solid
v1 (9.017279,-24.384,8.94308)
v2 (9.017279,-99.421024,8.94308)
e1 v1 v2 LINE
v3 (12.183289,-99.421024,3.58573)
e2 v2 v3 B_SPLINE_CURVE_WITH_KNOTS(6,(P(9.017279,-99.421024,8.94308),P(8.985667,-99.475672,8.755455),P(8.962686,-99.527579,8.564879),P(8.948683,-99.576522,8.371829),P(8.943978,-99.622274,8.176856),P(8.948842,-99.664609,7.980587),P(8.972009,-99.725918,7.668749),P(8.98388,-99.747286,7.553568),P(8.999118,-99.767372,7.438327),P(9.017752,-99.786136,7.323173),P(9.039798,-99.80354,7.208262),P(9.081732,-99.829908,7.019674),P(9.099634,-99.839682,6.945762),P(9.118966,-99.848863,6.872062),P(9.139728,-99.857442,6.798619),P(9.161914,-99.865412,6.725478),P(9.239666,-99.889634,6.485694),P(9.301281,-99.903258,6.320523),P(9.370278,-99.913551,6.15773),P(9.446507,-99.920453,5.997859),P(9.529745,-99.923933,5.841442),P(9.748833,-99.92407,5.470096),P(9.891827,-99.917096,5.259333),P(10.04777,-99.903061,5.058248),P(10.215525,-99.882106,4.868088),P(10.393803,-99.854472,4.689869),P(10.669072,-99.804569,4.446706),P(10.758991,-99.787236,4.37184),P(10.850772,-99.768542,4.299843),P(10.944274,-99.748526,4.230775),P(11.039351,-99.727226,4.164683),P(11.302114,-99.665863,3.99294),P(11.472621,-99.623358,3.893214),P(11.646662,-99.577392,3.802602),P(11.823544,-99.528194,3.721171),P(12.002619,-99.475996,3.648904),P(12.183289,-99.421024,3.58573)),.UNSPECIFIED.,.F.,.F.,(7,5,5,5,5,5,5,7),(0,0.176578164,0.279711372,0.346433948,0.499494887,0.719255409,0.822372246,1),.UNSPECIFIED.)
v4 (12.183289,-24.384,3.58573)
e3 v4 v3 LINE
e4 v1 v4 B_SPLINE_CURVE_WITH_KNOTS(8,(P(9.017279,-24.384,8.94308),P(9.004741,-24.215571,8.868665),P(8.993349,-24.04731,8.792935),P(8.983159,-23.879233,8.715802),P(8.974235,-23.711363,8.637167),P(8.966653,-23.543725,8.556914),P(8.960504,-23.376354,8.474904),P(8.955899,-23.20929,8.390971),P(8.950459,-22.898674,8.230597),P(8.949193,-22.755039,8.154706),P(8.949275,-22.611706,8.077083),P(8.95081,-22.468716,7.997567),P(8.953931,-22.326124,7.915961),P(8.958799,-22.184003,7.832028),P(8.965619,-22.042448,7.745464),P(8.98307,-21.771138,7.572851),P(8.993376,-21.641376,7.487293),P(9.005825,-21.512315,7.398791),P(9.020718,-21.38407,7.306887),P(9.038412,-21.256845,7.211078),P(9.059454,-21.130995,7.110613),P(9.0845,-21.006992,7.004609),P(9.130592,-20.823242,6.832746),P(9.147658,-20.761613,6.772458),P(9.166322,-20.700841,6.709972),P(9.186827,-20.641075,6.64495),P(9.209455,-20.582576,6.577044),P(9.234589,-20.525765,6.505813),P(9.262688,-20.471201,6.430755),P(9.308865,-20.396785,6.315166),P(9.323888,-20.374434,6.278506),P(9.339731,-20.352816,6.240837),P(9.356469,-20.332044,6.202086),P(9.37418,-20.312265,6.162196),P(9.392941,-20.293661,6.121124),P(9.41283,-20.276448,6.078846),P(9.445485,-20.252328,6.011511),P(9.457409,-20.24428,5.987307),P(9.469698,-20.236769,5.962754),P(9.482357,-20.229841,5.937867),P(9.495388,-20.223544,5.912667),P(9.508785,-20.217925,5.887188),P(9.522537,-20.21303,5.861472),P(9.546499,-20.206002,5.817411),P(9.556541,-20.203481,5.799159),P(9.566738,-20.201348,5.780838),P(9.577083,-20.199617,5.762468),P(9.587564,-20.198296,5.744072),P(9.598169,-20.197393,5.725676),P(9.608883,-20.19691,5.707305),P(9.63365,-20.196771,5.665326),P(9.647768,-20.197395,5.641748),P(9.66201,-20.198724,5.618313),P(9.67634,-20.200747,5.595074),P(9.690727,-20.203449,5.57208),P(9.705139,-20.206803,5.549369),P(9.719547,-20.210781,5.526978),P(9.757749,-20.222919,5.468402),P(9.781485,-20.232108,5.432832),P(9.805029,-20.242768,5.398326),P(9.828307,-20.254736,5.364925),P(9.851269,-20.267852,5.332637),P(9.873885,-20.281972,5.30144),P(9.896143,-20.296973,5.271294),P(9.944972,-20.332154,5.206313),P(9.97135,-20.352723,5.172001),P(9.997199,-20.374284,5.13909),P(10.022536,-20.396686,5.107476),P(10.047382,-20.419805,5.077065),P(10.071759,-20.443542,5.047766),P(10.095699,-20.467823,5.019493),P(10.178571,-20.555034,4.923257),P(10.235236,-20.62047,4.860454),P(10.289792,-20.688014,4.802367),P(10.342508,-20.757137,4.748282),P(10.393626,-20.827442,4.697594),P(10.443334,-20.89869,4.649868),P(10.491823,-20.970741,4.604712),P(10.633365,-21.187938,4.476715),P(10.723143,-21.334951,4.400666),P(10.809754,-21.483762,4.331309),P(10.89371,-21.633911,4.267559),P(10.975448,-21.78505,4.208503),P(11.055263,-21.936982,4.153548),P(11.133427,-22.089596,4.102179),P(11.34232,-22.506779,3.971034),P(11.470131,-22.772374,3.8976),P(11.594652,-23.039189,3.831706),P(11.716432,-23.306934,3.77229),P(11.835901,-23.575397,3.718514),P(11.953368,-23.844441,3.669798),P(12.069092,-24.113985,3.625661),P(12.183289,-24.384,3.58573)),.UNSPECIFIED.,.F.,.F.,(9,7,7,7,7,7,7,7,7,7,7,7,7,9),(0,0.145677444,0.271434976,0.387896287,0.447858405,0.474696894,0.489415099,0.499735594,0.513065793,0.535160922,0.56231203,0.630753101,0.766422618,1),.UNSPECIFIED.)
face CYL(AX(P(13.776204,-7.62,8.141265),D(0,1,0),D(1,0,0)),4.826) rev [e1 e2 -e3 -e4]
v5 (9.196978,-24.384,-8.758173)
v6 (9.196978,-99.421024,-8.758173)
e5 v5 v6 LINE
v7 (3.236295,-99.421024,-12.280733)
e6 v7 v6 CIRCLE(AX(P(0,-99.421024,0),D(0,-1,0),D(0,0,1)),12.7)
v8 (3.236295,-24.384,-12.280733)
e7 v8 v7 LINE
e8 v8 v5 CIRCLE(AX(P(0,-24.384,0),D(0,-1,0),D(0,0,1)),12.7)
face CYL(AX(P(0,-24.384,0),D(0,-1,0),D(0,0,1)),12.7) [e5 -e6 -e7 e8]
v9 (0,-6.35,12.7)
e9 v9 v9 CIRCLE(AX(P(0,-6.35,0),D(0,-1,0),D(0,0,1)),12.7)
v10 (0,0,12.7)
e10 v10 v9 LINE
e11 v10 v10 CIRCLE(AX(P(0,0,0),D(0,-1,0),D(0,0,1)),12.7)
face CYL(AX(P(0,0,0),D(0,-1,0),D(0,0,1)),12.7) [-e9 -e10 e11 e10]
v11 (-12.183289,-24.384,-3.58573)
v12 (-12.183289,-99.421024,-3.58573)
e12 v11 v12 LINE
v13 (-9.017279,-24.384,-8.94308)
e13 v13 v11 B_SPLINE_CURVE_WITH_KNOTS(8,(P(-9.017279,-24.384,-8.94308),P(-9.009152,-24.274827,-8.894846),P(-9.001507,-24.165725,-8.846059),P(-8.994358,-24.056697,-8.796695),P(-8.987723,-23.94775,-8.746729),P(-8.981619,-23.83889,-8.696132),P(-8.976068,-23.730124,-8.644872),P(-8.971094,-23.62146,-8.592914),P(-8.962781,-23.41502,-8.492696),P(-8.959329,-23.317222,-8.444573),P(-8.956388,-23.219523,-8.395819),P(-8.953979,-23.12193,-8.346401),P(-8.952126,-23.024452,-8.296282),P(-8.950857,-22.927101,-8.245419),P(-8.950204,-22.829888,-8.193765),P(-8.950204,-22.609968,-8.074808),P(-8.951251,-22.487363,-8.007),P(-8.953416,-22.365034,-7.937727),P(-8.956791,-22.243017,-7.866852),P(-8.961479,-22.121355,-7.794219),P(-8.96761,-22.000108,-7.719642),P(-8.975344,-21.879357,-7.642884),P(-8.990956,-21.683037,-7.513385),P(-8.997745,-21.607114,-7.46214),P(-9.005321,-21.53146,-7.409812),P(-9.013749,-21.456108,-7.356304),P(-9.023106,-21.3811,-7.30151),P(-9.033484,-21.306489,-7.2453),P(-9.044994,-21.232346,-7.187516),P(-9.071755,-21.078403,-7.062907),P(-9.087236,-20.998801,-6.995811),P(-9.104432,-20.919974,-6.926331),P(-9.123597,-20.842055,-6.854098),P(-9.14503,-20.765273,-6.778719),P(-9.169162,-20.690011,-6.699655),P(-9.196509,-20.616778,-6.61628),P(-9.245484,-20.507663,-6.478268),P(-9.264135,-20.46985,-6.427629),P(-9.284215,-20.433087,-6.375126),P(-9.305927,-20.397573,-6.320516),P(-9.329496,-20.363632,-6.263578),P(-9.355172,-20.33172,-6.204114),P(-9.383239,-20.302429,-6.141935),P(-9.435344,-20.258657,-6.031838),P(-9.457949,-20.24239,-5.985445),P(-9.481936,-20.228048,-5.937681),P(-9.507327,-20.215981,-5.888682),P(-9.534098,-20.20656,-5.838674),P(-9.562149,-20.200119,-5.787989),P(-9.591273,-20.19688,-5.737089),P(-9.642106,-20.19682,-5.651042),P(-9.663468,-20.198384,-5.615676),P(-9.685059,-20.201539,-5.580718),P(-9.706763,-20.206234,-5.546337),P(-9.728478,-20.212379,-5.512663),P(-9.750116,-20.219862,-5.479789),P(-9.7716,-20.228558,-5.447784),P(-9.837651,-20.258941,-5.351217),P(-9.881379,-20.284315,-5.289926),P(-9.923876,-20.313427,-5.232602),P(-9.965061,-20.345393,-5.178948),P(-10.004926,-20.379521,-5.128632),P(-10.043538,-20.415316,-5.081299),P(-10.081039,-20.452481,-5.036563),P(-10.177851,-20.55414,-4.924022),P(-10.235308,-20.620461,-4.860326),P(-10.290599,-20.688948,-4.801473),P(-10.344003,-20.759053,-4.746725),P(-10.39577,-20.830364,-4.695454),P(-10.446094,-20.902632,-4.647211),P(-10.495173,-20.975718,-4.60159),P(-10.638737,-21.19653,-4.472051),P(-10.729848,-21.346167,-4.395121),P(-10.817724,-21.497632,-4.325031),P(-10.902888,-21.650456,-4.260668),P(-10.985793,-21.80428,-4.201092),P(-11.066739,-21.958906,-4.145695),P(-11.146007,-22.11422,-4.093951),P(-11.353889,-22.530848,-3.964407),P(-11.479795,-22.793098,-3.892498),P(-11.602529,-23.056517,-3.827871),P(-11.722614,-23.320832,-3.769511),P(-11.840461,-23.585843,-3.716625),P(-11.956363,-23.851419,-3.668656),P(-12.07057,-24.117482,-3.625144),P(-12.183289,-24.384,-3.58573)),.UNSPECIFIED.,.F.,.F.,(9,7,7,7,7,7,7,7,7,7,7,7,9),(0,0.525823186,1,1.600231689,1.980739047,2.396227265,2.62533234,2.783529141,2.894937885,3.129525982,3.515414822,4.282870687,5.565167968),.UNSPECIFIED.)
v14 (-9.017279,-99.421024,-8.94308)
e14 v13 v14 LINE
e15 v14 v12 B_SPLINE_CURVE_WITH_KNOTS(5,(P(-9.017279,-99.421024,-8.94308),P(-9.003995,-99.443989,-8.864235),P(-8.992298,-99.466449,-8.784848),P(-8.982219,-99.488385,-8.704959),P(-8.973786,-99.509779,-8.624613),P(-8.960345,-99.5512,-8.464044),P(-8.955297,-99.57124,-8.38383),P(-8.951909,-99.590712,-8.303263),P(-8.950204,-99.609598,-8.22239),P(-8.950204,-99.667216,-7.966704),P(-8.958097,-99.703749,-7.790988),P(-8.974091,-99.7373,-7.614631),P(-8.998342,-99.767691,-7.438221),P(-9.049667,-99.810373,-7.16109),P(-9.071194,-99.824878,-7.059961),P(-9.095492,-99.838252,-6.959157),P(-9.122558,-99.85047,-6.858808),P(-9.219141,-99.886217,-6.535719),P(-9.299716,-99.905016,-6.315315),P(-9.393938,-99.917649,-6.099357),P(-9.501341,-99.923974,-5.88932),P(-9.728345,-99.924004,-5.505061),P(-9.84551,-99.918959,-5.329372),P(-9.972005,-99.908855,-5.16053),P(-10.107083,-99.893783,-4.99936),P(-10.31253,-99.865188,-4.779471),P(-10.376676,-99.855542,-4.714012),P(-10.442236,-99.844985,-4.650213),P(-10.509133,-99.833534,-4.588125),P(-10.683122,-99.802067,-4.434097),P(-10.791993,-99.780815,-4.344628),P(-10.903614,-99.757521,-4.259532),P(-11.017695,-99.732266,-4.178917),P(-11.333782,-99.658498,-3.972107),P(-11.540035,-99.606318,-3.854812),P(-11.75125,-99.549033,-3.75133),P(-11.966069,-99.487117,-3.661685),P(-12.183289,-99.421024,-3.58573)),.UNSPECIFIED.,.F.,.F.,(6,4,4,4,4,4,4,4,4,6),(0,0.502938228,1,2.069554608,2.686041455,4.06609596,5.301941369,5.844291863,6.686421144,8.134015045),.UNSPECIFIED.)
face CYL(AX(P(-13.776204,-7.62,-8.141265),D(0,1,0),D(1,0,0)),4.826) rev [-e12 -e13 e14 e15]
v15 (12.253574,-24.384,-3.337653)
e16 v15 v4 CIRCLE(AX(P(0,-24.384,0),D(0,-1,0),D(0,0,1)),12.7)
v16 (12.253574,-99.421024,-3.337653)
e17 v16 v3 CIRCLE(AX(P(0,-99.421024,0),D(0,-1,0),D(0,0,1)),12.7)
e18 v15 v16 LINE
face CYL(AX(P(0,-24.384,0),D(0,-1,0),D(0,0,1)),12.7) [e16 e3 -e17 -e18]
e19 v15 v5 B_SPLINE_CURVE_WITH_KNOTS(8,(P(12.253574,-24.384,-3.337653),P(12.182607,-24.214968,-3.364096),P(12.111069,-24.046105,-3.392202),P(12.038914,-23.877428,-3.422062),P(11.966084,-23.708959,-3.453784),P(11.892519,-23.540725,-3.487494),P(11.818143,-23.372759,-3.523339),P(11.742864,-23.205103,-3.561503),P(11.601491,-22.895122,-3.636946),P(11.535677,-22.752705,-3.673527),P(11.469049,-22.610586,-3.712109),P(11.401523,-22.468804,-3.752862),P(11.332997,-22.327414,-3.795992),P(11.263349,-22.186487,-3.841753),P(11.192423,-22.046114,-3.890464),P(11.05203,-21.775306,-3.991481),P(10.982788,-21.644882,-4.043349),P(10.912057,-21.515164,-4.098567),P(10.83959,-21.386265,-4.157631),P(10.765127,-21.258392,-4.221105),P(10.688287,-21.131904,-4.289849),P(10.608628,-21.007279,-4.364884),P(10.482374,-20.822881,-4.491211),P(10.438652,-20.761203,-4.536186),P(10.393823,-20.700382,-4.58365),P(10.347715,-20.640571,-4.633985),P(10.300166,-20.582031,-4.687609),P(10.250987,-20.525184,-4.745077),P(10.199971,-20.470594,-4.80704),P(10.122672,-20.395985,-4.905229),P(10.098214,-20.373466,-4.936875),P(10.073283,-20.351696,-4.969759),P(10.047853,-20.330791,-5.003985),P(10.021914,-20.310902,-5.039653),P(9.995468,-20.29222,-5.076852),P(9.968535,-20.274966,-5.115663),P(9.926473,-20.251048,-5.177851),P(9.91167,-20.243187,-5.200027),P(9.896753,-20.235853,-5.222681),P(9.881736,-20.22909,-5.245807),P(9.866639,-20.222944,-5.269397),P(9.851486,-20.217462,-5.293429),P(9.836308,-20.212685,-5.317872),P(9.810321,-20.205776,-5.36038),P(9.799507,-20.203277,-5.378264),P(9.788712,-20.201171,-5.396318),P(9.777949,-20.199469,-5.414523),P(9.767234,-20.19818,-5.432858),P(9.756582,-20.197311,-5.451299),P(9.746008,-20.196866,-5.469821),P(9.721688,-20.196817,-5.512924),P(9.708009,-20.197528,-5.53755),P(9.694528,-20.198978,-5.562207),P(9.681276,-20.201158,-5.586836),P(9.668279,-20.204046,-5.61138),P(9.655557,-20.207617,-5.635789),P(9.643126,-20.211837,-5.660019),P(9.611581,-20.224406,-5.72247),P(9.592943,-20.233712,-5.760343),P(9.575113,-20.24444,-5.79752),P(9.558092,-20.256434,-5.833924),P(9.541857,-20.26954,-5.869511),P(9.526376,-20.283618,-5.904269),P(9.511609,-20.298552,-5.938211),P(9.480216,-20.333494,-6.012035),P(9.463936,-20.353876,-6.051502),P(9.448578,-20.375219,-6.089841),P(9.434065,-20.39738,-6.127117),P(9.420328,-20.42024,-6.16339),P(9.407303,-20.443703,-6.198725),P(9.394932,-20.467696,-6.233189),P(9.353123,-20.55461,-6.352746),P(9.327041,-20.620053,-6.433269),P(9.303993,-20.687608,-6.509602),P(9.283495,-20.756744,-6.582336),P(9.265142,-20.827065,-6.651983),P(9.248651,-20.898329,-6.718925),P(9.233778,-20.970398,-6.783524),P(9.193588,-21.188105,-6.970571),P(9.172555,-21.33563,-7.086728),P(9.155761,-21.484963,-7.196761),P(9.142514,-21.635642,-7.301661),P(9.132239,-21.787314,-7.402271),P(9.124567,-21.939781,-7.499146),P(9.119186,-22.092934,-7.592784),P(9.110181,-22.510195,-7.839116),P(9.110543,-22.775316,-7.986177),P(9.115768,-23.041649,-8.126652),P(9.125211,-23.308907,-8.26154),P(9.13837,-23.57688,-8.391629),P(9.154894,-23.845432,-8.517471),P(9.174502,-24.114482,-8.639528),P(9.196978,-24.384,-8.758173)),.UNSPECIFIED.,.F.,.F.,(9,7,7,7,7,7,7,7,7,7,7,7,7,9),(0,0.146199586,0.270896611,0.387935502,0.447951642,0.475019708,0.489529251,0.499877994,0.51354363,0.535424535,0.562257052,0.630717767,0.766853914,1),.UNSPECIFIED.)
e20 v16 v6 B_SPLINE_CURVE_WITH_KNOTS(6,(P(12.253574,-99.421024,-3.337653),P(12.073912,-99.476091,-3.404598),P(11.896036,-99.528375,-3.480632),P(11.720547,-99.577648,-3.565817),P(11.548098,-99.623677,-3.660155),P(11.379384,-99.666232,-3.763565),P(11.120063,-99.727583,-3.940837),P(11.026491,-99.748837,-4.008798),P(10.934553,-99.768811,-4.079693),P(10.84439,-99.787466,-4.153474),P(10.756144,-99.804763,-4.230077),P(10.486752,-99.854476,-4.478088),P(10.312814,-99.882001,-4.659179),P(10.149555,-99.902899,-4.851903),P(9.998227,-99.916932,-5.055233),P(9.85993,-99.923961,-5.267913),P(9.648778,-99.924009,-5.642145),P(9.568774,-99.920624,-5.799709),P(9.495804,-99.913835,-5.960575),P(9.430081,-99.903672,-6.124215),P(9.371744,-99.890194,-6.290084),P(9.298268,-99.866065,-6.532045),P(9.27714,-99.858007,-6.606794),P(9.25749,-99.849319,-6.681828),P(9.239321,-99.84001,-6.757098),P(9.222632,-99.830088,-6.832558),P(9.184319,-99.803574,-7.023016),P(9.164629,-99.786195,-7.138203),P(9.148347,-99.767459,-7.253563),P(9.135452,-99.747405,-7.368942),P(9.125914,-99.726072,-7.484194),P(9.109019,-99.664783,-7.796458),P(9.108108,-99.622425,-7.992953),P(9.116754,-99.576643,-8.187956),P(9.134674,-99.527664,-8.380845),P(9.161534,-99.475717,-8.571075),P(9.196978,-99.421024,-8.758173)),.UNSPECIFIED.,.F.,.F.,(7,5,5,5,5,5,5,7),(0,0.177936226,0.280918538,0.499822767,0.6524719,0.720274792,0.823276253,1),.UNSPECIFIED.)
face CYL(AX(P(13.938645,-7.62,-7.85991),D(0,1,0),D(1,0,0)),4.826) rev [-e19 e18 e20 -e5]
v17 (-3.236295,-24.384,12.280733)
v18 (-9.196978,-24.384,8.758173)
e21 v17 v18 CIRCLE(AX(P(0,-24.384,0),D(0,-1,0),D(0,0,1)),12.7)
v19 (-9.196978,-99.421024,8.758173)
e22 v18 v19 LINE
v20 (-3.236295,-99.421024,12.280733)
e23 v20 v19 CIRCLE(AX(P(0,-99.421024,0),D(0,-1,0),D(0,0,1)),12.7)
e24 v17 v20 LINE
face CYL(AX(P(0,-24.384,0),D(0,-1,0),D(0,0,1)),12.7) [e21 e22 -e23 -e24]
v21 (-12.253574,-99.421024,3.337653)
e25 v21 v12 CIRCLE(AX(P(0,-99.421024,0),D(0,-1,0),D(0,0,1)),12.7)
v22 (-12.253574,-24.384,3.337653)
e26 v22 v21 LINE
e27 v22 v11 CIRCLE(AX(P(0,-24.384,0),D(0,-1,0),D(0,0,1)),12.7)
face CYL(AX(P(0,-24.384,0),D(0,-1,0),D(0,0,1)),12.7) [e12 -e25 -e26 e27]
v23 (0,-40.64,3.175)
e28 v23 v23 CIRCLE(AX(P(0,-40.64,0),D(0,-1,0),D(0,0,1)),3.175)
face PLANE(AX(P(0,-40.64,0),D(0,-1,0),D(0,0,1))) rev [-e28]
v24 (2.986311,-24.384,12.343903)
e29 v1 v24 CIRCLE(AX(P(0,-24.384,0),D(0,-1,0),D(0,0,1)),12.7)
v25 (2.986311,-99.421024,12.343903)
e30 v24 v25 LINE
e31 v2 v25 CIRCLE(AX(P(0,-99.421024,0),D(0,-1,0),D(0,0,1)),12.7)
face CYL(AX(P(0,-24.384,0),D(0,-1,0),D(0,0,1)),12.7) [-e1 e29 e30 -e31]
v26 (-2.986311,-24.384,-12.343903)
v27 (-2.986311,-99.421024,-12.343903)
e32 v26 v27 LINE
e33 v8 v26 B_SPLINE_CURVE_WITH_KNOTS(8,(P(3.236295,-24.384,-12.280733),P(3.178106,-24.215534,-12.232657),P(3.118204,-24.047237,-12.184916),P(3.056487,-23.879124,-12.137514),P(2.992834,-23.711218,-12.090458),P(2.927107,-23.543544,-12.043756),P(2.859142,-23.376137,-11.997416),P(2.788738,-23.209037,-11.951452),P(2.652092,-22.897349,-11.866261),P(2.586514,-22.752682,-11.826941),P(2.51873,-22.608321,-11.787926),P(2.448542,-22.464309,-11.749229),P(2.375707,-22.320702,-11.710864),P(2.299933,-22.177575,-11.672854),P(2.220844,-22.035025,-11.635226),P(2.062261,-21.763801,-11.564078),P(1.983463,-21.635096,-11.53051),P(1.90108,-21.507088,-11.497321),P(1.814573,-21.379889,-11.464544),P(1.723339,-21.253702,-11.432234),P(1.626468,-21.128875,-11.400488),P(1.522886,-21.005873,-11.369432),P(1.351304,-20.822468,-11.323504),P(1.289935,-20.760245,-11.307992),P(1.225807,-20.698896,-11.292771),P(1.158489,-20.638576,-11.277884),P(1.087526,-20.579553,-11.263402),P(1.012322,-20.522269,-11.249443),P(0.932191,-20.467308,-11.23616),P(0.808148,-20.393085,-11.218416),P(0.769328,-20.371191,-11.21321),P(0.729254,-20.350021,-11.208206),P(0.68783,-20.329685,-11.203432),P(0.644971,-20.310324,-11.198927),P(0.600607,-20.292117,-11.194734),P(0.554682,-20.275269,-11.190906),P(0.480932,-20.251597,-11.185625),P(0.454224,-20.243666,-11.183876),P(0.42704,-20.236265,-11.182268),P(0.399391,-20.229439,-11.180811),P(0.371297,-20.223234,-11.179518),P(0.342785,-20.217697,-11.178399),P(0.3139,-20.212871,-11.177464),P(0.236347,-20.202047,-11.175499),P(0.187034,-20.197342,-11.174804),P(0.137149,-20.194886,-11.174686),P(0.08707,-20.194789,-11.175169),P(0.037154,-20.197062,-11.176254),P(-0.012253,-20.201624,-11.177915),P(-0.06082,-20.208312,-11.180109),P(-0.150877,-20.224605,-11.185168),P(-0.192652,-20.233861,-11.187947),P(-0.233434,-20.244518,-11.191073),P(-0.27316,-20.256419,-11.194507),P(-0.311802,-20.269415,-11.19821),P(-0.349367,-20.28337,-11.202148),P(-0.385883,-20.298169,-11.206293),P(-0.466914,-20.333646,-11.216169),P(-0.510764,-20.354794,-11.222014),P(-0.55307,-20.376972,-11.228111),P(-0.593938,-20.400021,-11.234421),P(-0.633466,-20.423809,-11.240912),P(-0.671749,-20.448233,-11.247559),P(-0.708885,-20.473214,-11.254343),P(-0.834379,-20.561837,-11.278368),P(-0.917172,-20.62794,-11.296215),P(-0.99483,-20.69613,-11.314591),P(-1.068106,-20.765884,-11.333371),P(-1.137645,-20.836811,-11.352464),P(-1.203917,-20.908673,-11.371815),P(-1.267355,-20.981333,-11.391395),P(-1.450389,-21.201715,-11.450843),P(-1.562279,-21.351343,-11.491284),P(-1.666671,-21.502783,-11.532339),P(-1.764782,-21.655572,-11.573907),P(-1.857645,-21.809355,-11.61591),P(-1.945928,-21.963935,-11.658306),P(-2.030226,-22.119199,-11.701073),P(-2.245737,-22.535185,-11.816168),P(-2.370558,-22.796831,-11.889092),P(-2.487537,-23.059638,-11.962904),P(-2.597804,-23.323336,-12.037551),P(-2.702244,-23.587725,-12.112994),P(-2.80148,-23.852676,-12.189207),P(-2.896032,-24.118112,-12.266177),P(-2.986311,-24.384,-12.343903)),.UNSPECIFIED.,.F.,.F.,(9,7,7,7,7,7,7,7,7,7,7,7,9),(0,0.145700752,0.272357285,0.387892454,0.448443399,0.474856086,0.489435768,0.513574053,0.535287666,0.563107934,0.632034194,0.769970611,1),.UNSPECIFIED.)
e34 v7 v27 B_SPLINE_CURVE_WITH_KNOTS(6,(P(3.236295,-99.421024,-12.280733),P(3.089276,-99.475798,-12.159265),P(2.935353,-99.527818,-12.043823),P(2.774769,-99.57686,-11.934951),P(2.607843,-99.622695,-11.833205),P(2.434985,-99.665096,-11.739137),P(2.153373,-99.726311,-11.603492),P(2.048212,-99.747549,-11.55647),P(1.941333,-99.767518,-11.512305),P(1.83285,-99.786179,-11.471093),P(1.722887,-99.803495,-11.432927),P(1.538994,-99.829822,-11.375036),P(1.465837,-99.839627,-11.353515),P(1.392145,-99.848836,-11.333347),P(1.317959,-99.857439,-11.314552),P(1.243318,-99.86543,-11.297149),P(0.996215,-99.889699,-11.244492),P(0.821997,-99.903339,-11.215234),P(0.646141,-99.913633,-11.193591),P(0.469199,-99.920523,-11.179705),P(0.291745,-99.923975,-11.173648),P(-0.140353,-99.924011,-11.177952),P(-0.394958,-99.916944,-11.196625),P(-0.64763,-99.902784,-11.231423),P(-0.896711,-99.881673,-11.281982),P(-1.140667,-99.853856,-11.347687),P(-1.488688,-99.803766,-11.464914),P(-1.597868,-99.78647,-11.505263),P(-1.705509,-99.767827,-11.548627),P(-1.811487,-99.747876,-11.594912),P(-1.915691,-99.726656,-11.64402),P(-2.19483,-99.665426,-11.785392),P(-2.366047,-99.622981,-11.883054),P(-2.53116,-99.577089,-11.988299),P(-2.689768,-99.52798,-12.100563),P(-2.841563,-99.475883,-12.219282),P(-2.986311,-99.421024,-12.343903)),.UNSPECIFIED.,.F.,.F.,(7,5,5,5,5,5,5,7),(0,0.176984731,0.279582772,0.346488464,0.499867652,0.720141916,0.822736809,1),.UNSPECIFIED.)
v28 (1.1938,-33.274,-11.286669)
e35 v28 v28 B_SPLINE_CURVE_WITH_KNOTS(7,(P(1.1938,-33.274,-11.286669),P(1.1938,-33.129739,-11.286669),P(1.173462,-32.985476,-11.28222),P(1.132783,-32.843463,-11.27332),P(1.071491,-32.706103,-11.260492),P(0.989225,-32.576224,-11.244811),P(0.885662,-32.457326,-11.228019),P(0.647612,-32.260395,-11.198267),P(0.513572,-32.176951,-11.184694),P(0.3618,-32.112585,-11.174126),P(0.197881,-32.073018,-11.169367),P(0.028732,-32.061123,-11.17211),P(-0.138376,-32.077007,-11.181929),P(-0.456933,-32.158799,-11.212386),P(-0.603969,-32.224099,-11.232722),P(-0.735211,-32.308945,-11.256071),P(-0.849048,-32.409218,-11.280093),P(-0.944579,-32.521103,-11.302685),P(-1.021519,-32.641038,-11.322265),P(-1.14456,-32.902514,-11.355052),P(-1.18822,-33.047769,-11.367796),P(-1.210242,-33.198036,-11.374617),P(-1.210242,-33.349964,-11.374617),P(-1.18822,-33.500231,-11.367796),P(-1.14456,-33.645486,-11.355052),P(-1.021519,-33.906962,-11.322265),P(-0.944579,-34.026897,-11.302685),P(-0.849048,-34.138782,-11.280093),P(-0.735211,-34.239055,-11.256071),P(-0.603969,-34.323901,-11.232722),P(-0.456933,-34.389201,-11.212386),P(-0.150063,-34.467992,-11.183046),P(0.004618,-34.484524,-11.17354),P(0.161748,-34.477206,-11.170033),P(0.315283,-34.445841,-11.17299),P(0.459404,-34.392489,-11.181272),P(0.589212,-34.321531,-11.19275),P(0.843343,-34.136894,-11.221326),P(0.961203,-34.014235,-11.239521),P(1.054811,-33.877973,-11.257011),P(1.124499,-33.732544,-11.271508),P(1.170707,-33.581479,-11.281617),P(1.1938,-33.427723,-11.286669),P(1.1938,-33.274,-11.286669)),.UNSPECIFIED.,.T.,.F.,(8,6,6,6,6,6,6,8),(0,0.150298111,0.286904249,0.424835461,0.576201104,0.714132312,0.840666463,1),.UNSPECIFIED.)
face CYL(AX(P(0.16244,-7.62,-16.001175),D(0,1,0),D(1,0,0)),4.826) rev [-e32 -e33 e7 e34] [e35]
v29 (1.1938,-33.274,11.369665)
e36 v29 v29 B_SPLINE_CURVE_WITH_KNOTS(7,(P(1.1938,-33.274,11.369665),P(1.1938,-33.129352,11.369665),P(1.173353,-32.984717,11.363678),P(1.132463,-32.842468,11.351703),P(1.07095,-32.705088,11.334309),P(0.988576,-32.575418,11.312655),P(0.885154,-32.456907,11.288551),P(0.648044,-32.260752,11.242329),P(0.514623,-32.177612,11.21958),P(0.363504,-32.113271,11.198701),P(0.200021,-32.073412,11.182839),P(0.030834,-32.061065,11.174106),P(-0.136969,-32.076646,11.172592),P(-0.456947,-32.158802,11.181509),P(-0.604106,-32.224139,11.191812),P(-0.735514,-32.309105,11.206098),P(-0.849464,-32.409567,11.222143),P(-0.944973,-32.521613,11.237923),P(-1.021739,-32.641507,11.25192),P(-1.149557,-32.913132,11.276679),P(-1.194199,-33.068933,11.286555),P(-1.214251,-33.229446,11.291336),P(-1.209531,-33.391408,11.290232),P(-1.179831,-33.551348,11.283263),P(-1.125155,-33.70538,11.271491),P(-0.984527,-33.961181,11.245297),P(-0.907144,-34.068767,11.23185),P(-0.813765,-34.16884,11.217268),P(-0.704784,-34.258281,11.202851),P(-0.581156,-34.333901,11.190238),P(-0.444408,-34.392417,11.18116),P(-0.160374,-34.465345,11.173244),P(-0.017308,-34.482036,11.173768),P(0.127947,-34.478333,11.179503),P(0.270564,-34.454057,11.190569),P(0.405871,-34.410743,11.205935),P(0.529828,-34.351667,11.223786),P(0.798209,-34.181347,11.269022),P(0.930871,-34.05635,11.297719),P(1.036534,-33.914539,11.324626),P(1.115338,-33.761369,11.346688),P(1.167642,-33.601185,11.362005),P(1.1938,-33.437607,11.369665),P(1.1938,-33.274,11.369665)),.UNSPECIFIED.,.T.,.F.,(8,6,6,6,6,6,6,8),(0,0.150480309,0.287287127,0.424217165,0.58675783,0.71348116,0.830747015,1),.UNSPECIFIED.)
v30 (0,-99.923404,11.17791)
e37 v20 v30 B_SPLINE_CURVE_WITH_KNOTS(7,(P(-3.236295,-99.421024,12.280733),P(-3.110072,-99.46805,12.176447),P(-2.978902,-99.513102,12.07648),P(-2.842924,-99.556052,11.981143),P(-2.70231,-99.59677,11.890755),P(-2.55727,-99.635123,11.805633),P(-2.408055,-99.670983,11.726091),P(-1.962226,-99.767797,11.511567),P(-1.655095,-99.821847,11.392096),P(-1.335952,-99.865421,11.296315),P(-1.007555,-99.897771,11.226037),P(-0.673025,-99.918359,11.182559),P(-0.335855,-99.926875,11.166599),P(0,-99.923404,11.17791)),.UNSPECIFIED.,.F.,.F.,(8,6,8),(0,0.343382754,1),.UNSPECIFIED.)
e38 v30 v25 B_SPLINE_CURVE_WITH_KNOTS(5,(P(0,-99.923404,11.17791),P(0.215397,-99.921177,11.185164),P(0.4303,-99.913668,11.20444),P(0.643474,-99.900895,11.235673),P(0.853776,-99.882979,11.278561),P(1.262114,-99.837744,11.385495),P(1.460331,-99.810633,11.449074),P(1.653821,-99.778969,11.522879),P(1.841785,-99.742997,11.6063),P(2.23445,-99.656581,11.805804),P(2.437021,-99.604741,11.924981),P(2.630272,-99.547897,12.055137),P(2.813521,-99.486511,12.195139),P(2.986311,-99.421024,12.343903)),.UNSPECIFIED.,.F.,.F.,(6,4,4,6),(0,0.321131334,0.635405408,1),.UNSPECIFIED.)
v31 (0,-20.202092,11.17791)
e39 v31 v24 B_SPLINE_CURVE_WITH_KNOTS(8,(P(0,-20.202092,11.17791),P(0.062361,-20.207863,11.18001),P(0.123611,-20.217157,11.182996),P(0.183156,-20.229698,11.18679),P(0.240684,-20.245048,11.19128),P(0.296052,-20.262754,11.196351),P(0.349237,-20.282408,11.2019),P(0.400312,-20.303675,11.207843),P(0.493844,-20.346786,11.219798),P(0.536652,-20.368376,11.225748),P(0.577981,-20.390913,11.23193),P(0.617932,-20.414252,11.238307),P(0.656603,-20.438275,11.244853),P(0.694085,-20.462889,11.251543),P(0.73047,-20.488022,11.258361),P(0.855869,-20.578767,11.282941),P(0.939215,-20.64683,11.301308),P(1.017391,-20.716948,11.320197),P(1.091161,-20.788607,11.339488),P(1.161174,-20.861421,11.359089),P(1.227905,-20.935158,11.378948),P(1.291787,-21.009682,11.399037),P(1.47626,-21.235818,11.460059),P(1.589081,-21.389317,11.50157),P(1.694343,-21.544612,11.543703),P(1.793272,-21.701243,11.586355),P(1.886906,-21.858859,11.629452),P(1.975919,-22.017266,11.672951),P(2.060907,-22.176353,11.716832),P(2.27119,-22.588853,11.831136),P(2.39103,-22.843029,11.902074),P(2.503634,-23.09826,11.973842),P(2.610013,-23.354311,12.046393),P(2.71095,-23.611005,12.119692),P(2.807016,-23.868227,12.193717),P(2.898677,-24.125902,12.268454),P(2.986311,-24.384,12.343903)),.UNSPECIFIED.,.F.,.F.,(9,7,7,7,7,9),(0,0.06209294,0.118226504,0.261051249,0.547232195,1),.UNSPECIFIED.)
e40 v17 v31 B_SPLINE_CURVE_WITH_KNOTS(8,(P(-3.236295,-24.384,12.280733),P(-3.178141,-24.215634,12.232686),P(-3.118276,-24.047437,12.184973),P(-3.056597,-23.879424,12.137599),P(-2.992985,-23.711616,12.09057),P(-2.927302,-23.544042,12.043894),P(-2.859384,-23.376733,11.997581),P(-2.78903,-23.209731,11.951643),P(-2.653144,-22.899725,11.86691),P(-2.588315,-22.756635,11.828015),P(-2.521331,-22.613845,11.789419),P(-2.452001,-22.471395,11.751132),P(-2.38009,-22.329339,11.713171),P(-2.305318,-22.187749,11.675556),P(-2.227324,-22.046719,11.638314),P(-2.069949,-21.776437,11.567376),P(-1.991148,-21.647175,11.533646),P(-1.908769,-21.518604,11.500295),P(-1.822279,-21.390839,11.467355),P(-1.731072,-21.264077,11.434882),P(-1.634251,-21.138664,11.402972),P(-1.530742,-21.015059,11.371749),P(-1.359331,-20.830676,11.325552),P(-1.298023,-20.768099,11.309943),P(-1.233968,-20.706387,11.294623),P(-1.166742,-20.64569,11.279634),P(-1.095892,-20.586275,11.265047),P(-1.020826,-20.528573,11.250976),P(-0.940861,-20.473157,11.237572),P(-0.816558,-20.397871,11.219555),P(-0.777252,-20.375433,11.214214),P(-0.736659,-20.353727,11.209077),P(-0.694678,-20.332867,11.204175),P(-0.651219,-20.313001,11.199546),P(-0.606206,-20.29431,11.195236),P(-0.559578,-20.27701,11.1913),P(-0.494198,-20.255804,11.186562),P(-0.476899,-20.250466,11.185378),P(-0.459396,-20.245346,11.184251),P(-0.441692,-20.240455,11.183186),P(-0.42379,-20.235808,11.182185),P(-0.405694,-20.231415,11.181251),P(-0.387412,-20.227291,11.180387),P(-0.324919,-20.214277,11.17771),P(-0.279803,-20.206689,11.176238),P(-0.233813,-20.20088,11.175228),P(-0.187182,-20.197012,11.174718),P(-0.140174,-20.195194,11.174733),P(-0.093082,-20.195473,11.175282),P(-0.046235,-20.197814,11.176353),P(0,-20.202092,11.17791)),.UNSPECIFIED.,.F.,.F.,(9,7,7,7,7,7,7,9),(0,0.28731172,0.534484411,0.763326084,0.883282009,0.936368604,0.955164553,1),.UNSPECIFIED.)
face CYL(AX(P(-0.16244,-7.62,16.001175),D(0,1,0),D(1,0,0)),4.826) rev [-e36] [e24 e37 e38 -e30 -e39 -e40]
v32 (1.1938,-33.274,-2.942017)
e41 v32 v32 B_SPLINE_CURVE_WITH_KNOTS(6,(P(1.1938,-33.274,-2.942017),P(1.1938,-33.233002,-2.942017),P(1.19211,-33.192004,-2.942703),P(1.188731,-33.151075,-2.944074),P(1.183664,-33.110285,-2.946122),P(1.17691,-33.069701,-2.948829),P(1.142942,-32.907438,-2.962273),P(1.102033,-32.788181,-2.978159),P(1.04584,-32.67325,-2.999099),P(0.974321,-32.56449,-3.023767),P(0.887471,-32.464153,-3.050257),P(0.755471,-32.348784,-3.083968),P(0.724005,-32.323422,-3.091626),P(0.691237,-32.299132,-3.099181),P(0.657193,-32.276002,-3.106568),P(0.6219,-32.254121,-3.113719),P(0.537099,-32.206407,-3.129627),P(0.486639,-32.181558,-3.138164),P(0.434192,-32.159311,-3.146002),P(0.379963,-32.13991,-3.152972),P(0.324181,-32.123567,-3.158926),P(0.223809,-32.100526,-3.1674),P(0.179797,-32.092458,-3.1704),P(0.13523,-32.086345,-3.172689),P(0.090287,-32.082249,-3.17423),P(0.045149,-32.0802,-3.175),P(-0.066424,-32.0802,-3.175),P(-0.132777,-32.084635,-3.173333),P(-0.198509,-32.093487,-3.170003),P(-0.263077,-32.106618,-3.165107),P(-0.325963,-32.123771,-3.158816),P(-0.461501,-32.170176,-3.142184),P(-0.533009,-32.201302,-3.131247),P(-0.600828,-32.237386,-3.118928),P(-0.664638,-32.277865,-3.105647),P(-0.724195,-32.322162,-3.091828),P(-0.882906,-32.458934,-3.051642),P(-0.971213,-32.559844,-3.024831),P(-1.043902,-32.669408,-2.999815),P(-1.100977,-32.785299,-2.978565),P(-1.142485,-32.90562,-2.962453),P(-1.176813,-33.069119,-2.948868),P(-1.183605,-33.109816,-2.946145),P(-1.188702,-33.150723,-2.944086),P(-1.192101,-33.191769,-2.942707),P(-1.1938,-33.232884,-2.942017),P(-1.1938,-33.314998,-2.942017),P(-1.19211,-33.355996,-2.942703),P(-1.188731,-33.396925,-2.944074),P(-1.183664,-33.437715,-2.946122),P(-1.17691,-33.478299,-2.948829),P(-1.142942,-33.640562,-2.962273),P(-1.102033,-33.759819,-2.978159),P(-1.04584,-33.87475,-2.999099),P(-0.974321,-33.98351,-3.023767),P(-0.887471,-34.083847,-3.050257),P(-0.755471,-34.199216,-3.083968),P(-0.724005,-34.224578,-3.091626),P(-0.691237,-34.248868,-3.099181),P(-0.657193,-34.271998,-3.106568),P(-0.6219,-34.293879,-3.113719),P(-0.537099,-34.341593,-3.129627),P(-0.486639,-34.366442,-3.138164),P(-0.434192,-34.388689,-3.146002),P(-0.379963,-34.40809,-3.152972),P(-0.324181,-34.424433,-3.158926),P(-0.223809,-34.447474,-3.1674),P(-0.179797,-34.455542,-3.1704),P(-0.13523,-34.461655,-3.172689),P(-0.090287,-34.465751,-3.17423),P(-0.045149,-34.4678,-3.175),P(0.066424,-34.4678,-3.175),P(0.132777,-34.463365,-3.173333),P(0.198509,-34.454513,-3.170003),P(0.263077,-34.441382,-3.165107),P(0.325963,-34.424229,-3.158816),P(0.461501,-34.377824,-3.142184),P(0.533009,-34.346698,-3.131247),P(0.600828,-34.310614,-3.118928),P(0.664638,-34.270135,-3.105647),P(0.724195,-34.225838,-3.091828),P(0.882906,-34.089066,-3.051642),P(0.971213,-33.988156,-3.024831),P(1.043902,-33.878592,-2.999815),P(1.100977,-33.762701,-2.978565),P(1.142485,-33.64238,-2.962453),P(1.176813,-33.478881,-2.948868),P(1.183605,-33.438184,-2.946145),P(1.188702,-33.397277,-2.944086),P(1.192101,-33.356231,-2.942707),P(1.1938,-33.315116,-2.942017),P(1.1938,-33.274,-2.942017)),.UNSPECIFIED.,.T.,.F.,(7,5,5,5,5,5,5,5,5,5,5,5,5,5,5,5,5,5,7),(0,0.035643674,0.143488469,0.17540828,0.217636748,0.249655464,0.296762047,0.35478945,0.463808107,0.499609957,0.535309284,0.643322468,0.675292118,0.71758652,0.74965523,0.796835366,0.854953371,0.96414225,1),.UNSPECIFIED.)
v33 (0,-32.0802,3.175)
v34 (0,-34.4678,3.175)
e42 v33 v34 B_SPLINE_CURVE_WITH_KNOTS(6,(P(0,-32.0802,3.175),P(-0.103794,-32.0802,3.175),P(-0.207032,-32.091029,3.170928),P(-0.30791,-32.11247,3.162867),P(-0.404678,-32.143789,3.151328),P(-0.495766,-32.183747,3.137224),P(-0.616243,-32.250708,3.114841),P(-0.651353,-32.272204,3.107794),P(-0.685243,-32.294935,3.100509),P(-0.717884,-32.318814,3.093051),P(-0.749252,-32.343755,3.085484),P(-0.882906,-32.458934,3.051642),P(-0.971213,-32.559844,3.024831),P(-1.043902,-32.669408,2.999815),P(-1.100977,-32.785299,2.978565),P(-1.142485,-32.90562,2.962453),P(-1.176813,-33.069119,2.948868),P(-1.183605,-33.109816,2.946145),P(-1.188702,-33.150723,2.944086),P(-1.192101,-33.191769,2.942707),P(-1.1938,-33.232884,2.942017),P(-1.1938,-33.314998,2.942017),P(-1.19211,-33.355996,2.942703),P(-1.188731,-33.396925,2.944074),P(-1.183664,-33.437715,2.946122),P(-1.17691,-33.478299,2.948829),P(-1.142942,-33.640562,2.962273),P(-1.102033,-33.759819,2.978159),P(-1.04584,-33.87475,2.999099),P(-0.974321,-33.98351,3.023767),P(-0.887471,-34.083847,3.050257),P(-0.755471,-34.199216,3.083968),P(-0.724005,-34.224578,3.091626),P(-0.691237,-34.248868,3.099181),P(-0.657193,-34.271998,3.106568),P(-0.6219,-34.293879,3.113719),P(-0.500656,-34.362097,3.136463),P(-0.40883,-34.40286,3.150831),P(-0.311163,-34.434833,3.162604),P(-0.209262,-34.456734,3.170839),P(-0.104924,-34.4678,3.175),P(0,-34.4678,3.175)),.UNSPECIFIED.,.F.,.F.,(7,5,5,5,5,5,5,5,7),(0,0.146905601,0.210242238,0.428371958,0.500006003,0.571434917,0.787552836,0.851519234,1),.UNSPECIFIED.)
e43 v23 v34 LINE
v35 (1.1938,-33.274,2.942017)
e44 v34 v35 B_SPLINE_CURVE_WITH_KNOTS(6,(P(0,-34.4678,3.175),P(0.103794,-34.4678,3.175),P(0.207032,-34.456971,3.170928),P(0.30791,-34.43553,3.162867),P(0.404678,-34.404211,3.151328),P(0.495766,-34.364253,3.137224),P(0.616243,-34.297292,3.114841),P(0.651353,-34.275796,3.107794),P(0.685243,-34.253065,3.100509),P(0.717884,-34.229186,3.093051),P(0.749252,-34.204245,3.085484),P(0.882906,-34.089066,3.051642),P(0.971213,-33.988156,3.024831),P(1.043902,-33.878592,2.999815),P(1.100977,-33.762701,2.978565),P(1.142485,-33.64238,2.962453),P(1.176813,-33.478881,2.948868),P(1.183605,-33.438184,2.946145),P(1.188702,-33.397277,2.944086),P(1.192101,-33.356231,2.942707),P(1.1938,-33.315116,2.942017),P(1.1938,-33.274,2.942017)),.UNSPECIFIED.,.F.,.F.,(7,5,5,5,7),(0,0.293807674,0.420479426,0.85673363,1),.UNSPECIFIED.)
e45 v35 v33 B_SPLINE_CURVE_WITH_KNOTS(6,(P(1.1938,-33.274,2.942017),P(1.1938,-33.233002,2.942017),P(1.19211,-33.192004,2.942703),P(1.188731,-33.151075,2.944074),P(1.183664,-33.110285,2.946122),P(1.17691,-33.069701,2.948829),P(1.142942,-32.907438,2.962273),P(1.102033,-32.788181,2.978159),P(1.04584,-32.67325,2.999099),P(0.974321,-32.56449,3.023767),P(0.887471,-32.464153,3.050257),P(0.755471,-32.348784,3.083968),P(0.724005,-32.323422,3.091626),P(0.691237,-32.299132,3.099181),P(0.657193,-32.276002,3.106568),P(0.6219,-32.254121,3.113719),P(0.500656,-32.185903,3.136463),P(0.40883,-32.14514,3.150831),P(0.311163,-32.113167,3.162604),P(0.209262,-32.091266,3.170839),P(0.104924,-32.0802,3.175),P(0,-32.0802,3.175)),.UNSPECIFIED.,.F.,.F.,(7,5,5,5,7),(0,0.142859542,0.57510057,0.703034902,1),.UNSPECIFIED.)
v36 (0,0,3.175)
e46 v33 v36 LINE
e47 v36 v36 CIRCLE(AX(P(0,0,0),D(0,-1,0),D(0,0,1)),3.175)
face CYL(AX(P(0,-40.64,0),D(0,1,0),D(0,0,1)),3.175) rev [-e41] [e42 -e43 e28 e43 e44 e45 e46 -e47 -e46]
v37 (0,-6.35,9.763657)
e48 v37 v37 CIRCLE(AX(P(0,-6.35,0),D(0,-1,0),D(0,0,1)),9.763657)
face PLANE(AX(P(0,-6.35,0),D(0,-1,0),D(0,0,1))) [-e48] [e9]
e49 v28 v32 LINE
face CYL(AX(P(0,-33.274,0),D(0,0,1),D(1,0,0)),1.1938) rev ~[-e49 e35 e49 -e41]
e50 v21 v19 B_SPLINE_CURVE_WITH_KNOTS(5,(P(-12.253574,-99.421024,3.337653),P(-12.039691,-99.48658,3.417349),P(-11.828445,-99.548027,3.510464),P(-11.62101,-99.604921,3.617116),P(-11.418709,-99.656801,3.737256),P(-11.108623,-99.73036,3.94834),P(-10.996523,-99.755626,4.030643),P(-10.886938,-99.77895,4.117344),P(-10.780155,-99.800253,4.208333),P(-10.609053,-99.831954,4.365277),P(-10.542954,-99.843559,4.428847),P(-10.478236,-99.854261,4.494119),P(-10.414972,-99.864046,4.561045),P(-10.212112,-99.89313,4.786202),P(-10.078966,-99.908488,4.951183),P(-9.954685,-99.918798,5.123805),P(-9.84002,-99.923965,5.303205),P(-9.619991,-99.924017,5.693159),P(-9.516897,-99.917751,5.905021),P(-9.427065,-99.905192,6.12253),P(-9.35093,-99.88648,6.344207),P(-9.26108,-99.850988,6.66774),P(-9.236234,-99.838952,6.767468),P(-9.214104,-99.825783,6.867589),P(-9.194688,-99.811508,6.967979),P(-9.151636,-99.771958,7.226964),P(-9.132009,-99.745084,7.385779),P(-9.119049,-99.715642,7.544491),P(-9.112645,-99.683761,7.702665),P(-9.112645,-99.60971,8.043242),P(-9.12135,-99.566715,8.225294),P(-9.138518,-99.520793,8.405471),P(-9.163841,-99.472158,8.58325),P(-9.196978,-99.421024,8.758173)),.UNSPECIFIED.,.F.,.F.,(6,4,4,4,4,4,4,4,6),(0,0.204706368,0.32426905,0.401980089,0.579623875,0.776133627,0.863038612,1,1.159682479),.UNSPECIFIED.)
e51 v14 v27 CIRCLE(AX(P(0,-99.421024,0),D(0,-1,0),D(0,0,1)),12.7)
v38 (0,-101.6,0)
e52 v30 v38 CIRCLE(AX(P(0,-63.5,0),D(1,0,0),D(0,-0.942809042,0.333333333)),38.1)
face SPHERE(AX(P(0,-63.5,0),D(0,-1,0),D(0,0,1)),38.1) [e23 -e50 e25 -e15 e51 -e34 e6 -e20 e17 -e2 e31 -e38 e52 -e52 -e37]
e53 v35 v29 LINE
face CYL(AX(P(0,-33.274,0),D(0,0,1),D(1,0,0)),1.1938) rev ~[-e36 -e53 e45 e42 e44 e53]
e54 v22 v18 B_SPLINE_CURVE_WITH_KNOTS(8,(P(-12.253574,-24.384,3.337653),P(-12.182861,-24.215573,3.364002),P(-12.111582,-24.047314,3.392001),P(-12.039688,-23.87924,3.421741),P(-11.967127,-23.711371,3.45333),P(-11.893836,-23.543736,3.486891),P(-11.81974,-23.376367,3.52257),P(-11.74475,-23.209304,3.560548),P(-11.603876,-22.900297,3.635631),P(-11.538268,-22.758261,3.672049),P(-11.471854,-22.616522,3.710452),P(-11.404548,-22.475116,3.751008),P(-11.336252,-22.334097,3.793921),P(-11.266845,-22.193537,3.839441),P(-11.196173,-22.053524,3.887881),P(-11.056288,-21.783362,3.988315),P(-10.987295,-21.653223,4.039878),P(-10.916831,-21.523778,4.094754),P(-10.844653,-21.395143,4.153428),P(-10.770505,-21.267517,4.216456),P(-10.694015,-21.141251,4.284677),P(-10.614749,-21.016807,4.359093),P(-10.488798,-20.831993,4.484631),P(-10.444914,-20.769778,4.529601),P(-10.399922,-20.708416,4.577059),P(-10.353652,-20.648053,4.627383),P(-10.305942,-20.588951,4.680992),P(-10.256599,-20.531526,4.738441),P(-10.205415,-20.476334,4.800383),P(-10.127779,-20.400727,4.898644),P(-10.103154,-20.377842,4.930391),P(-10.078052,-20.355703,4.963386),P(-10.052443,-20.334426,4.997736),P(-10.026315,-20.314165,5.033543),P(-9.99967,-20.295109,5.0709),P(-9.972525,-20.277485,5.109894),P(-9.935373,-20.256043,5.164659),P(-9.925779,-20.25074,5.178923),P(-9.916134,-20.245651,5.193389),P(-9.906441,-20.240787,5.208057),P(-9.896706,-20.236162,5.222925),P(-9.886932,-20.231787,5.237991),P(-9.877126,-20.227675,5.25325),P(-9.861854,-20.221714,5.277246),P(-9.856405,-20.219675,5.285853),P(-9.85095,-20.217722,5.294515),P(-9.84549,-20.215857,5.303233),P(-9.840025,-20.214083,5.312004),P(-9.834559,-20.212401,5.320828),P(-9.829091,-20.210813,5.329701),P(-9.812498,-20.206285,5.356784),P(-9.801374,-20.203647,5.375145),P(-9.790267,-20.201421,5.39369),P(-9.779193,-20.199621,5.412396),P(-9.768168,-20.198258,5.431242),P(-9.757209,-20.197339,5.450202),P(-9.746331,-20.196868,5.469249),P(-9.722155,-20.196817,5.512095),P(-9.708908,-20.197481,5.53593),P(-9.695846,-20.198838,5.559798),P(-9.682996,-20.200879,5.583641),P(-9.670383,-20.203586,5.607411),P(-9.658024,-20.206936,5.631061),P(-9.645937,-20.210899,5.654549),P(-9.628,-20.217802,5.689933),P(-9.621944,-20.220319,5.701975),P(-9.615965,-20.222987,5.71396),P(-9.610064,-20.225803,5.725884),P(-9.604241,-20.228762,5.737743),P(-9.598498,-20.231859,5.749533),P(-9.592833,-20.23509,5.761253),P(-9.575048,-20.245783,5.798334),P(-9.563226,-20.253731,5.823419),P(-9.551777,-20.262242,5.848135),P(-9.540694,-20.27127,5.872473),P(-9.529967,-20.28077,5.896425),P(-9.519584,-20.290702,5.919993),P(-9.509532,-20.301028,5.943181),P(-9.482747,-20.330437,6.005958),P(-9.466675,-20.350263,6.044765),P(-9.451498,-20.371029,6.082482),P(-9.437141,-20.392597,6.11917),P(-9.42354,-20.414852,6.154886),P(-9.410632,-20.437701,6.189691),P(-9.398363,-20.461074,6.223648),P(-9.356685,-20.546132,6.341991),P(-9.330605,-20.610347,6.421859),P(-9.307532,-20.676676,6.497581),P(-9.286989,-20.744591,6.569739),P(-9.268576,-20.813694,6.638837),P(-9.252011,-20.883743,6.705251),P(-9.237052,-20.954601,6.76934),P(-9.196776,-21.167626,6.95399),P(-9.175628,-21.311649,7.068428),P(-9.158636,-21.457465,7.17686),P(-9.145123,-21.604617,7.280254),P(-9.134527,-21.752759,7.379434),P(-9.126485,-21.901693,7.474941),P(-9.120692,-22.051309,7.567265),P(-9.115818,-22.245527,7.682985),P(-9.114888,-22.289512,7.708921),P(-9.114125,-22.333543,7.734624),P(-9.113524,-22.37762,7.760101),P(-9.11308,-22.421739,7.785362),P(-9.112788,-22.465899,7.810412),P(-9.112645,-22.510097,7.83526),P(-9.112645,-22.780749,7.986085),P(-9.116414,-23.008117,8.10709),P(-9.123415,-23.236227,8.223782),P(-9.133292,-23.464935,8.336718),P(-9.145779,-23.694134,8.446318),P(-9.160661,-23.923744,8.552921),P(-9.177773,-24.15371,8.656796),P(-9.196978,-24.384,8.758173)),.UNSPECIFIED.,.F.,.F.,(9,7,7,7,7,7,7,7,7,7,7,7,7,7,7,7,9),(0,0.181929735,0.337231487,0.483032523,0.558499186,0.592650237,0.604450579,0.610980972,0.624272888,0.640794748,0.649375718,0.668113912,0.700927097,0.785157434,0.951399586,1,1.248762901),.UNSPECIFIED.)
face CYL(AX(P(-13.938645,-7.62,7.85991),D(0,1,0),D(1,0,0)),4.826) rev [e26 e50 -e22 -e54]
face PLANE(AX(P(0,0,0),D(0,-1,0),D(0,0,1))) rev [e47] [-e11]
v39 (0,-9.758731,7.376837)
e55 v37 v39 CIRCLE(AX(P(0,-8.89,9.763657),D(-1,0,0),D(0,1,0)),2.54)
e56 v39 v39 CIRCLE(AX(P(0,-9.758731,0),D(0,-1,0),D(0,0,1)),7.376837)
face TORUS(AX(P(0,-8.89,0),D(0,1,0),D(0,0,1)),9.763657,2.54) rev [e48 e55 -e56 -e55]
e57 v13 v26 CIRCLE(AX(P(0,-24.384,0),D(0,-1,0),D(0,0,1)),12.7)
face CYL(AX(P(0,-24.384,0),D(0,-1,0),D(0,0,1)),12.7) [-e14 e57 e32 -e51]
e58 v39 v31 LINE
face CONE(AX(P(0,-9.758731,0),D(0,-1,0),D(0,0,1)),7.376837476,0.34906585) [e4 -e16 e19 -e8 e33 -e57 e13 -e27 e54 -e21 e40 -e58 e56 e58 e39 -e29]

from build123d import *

# Parameters (mm, degrees)
F3_START = 7.62
F2_R     = 4.826
F3_DEPTH = 93.981
F4_R     = 1.1938
F5_DEPTH = 12.7


with BuildPart() as f1:
    # F0 (on Right) → F1 (revolve)
    with BuildSketch(Plane.YZ):
        with BuildLine():
            Line((-40.64, 3.175), (0, 3.175))
            Line((0, 3.175), (0, 12.7))
            Line((0, 12.7), (-6.35, 12.7))
            Line((-6.35, 12.7), (-6.35, 9.7636567324))
            ThreePointArc((-6.35, 9.7636567324), (-7.4331158517, 7.6830105399), (-9.758731164, 7.3768374756))
            Line((-9.758731164, 7.3768374756), (-24.384, 12.7))
            Line((-24.384, 12.7), (-99.4210244843, 12.7))
            ThreePointArc((-99.4210244843, 12.7), (-101.0513051228, 6.4427853895), (-101.6, 0))
            Line((-101.6, 0), (-40.64, 0))
            Line((-40.64, 0), (-40.64, 3.175))
        make_face()
    revolve(axis=Axis((0, -71.12, 0), (0, -1, 0)))

    # F2 (on Front) → F3 (cut)
    with BuildSketch(Plane.XZ.offset(F3_START)):
        with Locations((-0.1624401561, 16.0011754942)):
            Circle(F2_R)
        with Locations((13.7762043903, 8.1412650489)):
            Circle(F2_R)
        with Locations((13.9386445464, -7.8599104453)):
            Circle(F2_R)
        with Locations((0.1624401561, -16.0011754942)):
            Circle(F2_R)
        with Locations((-13.7762043903, -8.1412650489)):
            Circle(F2_R)
        with Locations((-13.9386445464, 7.8599104453)):
            Circle(F2_R)
    extrude(amount=F3_DEPTH, mode=Mode.SUBTRACT)

    # F4 (on Top) → F5 (cut, symmetric)
    with BuildSketch(Plane.XY):
        with Locations((0, -33.274)):
            Circle(F4_R)
    extrude(amount=F5_DEPTH, both=True, mode=Mode.SUBTRACT)


solid = f1.part
